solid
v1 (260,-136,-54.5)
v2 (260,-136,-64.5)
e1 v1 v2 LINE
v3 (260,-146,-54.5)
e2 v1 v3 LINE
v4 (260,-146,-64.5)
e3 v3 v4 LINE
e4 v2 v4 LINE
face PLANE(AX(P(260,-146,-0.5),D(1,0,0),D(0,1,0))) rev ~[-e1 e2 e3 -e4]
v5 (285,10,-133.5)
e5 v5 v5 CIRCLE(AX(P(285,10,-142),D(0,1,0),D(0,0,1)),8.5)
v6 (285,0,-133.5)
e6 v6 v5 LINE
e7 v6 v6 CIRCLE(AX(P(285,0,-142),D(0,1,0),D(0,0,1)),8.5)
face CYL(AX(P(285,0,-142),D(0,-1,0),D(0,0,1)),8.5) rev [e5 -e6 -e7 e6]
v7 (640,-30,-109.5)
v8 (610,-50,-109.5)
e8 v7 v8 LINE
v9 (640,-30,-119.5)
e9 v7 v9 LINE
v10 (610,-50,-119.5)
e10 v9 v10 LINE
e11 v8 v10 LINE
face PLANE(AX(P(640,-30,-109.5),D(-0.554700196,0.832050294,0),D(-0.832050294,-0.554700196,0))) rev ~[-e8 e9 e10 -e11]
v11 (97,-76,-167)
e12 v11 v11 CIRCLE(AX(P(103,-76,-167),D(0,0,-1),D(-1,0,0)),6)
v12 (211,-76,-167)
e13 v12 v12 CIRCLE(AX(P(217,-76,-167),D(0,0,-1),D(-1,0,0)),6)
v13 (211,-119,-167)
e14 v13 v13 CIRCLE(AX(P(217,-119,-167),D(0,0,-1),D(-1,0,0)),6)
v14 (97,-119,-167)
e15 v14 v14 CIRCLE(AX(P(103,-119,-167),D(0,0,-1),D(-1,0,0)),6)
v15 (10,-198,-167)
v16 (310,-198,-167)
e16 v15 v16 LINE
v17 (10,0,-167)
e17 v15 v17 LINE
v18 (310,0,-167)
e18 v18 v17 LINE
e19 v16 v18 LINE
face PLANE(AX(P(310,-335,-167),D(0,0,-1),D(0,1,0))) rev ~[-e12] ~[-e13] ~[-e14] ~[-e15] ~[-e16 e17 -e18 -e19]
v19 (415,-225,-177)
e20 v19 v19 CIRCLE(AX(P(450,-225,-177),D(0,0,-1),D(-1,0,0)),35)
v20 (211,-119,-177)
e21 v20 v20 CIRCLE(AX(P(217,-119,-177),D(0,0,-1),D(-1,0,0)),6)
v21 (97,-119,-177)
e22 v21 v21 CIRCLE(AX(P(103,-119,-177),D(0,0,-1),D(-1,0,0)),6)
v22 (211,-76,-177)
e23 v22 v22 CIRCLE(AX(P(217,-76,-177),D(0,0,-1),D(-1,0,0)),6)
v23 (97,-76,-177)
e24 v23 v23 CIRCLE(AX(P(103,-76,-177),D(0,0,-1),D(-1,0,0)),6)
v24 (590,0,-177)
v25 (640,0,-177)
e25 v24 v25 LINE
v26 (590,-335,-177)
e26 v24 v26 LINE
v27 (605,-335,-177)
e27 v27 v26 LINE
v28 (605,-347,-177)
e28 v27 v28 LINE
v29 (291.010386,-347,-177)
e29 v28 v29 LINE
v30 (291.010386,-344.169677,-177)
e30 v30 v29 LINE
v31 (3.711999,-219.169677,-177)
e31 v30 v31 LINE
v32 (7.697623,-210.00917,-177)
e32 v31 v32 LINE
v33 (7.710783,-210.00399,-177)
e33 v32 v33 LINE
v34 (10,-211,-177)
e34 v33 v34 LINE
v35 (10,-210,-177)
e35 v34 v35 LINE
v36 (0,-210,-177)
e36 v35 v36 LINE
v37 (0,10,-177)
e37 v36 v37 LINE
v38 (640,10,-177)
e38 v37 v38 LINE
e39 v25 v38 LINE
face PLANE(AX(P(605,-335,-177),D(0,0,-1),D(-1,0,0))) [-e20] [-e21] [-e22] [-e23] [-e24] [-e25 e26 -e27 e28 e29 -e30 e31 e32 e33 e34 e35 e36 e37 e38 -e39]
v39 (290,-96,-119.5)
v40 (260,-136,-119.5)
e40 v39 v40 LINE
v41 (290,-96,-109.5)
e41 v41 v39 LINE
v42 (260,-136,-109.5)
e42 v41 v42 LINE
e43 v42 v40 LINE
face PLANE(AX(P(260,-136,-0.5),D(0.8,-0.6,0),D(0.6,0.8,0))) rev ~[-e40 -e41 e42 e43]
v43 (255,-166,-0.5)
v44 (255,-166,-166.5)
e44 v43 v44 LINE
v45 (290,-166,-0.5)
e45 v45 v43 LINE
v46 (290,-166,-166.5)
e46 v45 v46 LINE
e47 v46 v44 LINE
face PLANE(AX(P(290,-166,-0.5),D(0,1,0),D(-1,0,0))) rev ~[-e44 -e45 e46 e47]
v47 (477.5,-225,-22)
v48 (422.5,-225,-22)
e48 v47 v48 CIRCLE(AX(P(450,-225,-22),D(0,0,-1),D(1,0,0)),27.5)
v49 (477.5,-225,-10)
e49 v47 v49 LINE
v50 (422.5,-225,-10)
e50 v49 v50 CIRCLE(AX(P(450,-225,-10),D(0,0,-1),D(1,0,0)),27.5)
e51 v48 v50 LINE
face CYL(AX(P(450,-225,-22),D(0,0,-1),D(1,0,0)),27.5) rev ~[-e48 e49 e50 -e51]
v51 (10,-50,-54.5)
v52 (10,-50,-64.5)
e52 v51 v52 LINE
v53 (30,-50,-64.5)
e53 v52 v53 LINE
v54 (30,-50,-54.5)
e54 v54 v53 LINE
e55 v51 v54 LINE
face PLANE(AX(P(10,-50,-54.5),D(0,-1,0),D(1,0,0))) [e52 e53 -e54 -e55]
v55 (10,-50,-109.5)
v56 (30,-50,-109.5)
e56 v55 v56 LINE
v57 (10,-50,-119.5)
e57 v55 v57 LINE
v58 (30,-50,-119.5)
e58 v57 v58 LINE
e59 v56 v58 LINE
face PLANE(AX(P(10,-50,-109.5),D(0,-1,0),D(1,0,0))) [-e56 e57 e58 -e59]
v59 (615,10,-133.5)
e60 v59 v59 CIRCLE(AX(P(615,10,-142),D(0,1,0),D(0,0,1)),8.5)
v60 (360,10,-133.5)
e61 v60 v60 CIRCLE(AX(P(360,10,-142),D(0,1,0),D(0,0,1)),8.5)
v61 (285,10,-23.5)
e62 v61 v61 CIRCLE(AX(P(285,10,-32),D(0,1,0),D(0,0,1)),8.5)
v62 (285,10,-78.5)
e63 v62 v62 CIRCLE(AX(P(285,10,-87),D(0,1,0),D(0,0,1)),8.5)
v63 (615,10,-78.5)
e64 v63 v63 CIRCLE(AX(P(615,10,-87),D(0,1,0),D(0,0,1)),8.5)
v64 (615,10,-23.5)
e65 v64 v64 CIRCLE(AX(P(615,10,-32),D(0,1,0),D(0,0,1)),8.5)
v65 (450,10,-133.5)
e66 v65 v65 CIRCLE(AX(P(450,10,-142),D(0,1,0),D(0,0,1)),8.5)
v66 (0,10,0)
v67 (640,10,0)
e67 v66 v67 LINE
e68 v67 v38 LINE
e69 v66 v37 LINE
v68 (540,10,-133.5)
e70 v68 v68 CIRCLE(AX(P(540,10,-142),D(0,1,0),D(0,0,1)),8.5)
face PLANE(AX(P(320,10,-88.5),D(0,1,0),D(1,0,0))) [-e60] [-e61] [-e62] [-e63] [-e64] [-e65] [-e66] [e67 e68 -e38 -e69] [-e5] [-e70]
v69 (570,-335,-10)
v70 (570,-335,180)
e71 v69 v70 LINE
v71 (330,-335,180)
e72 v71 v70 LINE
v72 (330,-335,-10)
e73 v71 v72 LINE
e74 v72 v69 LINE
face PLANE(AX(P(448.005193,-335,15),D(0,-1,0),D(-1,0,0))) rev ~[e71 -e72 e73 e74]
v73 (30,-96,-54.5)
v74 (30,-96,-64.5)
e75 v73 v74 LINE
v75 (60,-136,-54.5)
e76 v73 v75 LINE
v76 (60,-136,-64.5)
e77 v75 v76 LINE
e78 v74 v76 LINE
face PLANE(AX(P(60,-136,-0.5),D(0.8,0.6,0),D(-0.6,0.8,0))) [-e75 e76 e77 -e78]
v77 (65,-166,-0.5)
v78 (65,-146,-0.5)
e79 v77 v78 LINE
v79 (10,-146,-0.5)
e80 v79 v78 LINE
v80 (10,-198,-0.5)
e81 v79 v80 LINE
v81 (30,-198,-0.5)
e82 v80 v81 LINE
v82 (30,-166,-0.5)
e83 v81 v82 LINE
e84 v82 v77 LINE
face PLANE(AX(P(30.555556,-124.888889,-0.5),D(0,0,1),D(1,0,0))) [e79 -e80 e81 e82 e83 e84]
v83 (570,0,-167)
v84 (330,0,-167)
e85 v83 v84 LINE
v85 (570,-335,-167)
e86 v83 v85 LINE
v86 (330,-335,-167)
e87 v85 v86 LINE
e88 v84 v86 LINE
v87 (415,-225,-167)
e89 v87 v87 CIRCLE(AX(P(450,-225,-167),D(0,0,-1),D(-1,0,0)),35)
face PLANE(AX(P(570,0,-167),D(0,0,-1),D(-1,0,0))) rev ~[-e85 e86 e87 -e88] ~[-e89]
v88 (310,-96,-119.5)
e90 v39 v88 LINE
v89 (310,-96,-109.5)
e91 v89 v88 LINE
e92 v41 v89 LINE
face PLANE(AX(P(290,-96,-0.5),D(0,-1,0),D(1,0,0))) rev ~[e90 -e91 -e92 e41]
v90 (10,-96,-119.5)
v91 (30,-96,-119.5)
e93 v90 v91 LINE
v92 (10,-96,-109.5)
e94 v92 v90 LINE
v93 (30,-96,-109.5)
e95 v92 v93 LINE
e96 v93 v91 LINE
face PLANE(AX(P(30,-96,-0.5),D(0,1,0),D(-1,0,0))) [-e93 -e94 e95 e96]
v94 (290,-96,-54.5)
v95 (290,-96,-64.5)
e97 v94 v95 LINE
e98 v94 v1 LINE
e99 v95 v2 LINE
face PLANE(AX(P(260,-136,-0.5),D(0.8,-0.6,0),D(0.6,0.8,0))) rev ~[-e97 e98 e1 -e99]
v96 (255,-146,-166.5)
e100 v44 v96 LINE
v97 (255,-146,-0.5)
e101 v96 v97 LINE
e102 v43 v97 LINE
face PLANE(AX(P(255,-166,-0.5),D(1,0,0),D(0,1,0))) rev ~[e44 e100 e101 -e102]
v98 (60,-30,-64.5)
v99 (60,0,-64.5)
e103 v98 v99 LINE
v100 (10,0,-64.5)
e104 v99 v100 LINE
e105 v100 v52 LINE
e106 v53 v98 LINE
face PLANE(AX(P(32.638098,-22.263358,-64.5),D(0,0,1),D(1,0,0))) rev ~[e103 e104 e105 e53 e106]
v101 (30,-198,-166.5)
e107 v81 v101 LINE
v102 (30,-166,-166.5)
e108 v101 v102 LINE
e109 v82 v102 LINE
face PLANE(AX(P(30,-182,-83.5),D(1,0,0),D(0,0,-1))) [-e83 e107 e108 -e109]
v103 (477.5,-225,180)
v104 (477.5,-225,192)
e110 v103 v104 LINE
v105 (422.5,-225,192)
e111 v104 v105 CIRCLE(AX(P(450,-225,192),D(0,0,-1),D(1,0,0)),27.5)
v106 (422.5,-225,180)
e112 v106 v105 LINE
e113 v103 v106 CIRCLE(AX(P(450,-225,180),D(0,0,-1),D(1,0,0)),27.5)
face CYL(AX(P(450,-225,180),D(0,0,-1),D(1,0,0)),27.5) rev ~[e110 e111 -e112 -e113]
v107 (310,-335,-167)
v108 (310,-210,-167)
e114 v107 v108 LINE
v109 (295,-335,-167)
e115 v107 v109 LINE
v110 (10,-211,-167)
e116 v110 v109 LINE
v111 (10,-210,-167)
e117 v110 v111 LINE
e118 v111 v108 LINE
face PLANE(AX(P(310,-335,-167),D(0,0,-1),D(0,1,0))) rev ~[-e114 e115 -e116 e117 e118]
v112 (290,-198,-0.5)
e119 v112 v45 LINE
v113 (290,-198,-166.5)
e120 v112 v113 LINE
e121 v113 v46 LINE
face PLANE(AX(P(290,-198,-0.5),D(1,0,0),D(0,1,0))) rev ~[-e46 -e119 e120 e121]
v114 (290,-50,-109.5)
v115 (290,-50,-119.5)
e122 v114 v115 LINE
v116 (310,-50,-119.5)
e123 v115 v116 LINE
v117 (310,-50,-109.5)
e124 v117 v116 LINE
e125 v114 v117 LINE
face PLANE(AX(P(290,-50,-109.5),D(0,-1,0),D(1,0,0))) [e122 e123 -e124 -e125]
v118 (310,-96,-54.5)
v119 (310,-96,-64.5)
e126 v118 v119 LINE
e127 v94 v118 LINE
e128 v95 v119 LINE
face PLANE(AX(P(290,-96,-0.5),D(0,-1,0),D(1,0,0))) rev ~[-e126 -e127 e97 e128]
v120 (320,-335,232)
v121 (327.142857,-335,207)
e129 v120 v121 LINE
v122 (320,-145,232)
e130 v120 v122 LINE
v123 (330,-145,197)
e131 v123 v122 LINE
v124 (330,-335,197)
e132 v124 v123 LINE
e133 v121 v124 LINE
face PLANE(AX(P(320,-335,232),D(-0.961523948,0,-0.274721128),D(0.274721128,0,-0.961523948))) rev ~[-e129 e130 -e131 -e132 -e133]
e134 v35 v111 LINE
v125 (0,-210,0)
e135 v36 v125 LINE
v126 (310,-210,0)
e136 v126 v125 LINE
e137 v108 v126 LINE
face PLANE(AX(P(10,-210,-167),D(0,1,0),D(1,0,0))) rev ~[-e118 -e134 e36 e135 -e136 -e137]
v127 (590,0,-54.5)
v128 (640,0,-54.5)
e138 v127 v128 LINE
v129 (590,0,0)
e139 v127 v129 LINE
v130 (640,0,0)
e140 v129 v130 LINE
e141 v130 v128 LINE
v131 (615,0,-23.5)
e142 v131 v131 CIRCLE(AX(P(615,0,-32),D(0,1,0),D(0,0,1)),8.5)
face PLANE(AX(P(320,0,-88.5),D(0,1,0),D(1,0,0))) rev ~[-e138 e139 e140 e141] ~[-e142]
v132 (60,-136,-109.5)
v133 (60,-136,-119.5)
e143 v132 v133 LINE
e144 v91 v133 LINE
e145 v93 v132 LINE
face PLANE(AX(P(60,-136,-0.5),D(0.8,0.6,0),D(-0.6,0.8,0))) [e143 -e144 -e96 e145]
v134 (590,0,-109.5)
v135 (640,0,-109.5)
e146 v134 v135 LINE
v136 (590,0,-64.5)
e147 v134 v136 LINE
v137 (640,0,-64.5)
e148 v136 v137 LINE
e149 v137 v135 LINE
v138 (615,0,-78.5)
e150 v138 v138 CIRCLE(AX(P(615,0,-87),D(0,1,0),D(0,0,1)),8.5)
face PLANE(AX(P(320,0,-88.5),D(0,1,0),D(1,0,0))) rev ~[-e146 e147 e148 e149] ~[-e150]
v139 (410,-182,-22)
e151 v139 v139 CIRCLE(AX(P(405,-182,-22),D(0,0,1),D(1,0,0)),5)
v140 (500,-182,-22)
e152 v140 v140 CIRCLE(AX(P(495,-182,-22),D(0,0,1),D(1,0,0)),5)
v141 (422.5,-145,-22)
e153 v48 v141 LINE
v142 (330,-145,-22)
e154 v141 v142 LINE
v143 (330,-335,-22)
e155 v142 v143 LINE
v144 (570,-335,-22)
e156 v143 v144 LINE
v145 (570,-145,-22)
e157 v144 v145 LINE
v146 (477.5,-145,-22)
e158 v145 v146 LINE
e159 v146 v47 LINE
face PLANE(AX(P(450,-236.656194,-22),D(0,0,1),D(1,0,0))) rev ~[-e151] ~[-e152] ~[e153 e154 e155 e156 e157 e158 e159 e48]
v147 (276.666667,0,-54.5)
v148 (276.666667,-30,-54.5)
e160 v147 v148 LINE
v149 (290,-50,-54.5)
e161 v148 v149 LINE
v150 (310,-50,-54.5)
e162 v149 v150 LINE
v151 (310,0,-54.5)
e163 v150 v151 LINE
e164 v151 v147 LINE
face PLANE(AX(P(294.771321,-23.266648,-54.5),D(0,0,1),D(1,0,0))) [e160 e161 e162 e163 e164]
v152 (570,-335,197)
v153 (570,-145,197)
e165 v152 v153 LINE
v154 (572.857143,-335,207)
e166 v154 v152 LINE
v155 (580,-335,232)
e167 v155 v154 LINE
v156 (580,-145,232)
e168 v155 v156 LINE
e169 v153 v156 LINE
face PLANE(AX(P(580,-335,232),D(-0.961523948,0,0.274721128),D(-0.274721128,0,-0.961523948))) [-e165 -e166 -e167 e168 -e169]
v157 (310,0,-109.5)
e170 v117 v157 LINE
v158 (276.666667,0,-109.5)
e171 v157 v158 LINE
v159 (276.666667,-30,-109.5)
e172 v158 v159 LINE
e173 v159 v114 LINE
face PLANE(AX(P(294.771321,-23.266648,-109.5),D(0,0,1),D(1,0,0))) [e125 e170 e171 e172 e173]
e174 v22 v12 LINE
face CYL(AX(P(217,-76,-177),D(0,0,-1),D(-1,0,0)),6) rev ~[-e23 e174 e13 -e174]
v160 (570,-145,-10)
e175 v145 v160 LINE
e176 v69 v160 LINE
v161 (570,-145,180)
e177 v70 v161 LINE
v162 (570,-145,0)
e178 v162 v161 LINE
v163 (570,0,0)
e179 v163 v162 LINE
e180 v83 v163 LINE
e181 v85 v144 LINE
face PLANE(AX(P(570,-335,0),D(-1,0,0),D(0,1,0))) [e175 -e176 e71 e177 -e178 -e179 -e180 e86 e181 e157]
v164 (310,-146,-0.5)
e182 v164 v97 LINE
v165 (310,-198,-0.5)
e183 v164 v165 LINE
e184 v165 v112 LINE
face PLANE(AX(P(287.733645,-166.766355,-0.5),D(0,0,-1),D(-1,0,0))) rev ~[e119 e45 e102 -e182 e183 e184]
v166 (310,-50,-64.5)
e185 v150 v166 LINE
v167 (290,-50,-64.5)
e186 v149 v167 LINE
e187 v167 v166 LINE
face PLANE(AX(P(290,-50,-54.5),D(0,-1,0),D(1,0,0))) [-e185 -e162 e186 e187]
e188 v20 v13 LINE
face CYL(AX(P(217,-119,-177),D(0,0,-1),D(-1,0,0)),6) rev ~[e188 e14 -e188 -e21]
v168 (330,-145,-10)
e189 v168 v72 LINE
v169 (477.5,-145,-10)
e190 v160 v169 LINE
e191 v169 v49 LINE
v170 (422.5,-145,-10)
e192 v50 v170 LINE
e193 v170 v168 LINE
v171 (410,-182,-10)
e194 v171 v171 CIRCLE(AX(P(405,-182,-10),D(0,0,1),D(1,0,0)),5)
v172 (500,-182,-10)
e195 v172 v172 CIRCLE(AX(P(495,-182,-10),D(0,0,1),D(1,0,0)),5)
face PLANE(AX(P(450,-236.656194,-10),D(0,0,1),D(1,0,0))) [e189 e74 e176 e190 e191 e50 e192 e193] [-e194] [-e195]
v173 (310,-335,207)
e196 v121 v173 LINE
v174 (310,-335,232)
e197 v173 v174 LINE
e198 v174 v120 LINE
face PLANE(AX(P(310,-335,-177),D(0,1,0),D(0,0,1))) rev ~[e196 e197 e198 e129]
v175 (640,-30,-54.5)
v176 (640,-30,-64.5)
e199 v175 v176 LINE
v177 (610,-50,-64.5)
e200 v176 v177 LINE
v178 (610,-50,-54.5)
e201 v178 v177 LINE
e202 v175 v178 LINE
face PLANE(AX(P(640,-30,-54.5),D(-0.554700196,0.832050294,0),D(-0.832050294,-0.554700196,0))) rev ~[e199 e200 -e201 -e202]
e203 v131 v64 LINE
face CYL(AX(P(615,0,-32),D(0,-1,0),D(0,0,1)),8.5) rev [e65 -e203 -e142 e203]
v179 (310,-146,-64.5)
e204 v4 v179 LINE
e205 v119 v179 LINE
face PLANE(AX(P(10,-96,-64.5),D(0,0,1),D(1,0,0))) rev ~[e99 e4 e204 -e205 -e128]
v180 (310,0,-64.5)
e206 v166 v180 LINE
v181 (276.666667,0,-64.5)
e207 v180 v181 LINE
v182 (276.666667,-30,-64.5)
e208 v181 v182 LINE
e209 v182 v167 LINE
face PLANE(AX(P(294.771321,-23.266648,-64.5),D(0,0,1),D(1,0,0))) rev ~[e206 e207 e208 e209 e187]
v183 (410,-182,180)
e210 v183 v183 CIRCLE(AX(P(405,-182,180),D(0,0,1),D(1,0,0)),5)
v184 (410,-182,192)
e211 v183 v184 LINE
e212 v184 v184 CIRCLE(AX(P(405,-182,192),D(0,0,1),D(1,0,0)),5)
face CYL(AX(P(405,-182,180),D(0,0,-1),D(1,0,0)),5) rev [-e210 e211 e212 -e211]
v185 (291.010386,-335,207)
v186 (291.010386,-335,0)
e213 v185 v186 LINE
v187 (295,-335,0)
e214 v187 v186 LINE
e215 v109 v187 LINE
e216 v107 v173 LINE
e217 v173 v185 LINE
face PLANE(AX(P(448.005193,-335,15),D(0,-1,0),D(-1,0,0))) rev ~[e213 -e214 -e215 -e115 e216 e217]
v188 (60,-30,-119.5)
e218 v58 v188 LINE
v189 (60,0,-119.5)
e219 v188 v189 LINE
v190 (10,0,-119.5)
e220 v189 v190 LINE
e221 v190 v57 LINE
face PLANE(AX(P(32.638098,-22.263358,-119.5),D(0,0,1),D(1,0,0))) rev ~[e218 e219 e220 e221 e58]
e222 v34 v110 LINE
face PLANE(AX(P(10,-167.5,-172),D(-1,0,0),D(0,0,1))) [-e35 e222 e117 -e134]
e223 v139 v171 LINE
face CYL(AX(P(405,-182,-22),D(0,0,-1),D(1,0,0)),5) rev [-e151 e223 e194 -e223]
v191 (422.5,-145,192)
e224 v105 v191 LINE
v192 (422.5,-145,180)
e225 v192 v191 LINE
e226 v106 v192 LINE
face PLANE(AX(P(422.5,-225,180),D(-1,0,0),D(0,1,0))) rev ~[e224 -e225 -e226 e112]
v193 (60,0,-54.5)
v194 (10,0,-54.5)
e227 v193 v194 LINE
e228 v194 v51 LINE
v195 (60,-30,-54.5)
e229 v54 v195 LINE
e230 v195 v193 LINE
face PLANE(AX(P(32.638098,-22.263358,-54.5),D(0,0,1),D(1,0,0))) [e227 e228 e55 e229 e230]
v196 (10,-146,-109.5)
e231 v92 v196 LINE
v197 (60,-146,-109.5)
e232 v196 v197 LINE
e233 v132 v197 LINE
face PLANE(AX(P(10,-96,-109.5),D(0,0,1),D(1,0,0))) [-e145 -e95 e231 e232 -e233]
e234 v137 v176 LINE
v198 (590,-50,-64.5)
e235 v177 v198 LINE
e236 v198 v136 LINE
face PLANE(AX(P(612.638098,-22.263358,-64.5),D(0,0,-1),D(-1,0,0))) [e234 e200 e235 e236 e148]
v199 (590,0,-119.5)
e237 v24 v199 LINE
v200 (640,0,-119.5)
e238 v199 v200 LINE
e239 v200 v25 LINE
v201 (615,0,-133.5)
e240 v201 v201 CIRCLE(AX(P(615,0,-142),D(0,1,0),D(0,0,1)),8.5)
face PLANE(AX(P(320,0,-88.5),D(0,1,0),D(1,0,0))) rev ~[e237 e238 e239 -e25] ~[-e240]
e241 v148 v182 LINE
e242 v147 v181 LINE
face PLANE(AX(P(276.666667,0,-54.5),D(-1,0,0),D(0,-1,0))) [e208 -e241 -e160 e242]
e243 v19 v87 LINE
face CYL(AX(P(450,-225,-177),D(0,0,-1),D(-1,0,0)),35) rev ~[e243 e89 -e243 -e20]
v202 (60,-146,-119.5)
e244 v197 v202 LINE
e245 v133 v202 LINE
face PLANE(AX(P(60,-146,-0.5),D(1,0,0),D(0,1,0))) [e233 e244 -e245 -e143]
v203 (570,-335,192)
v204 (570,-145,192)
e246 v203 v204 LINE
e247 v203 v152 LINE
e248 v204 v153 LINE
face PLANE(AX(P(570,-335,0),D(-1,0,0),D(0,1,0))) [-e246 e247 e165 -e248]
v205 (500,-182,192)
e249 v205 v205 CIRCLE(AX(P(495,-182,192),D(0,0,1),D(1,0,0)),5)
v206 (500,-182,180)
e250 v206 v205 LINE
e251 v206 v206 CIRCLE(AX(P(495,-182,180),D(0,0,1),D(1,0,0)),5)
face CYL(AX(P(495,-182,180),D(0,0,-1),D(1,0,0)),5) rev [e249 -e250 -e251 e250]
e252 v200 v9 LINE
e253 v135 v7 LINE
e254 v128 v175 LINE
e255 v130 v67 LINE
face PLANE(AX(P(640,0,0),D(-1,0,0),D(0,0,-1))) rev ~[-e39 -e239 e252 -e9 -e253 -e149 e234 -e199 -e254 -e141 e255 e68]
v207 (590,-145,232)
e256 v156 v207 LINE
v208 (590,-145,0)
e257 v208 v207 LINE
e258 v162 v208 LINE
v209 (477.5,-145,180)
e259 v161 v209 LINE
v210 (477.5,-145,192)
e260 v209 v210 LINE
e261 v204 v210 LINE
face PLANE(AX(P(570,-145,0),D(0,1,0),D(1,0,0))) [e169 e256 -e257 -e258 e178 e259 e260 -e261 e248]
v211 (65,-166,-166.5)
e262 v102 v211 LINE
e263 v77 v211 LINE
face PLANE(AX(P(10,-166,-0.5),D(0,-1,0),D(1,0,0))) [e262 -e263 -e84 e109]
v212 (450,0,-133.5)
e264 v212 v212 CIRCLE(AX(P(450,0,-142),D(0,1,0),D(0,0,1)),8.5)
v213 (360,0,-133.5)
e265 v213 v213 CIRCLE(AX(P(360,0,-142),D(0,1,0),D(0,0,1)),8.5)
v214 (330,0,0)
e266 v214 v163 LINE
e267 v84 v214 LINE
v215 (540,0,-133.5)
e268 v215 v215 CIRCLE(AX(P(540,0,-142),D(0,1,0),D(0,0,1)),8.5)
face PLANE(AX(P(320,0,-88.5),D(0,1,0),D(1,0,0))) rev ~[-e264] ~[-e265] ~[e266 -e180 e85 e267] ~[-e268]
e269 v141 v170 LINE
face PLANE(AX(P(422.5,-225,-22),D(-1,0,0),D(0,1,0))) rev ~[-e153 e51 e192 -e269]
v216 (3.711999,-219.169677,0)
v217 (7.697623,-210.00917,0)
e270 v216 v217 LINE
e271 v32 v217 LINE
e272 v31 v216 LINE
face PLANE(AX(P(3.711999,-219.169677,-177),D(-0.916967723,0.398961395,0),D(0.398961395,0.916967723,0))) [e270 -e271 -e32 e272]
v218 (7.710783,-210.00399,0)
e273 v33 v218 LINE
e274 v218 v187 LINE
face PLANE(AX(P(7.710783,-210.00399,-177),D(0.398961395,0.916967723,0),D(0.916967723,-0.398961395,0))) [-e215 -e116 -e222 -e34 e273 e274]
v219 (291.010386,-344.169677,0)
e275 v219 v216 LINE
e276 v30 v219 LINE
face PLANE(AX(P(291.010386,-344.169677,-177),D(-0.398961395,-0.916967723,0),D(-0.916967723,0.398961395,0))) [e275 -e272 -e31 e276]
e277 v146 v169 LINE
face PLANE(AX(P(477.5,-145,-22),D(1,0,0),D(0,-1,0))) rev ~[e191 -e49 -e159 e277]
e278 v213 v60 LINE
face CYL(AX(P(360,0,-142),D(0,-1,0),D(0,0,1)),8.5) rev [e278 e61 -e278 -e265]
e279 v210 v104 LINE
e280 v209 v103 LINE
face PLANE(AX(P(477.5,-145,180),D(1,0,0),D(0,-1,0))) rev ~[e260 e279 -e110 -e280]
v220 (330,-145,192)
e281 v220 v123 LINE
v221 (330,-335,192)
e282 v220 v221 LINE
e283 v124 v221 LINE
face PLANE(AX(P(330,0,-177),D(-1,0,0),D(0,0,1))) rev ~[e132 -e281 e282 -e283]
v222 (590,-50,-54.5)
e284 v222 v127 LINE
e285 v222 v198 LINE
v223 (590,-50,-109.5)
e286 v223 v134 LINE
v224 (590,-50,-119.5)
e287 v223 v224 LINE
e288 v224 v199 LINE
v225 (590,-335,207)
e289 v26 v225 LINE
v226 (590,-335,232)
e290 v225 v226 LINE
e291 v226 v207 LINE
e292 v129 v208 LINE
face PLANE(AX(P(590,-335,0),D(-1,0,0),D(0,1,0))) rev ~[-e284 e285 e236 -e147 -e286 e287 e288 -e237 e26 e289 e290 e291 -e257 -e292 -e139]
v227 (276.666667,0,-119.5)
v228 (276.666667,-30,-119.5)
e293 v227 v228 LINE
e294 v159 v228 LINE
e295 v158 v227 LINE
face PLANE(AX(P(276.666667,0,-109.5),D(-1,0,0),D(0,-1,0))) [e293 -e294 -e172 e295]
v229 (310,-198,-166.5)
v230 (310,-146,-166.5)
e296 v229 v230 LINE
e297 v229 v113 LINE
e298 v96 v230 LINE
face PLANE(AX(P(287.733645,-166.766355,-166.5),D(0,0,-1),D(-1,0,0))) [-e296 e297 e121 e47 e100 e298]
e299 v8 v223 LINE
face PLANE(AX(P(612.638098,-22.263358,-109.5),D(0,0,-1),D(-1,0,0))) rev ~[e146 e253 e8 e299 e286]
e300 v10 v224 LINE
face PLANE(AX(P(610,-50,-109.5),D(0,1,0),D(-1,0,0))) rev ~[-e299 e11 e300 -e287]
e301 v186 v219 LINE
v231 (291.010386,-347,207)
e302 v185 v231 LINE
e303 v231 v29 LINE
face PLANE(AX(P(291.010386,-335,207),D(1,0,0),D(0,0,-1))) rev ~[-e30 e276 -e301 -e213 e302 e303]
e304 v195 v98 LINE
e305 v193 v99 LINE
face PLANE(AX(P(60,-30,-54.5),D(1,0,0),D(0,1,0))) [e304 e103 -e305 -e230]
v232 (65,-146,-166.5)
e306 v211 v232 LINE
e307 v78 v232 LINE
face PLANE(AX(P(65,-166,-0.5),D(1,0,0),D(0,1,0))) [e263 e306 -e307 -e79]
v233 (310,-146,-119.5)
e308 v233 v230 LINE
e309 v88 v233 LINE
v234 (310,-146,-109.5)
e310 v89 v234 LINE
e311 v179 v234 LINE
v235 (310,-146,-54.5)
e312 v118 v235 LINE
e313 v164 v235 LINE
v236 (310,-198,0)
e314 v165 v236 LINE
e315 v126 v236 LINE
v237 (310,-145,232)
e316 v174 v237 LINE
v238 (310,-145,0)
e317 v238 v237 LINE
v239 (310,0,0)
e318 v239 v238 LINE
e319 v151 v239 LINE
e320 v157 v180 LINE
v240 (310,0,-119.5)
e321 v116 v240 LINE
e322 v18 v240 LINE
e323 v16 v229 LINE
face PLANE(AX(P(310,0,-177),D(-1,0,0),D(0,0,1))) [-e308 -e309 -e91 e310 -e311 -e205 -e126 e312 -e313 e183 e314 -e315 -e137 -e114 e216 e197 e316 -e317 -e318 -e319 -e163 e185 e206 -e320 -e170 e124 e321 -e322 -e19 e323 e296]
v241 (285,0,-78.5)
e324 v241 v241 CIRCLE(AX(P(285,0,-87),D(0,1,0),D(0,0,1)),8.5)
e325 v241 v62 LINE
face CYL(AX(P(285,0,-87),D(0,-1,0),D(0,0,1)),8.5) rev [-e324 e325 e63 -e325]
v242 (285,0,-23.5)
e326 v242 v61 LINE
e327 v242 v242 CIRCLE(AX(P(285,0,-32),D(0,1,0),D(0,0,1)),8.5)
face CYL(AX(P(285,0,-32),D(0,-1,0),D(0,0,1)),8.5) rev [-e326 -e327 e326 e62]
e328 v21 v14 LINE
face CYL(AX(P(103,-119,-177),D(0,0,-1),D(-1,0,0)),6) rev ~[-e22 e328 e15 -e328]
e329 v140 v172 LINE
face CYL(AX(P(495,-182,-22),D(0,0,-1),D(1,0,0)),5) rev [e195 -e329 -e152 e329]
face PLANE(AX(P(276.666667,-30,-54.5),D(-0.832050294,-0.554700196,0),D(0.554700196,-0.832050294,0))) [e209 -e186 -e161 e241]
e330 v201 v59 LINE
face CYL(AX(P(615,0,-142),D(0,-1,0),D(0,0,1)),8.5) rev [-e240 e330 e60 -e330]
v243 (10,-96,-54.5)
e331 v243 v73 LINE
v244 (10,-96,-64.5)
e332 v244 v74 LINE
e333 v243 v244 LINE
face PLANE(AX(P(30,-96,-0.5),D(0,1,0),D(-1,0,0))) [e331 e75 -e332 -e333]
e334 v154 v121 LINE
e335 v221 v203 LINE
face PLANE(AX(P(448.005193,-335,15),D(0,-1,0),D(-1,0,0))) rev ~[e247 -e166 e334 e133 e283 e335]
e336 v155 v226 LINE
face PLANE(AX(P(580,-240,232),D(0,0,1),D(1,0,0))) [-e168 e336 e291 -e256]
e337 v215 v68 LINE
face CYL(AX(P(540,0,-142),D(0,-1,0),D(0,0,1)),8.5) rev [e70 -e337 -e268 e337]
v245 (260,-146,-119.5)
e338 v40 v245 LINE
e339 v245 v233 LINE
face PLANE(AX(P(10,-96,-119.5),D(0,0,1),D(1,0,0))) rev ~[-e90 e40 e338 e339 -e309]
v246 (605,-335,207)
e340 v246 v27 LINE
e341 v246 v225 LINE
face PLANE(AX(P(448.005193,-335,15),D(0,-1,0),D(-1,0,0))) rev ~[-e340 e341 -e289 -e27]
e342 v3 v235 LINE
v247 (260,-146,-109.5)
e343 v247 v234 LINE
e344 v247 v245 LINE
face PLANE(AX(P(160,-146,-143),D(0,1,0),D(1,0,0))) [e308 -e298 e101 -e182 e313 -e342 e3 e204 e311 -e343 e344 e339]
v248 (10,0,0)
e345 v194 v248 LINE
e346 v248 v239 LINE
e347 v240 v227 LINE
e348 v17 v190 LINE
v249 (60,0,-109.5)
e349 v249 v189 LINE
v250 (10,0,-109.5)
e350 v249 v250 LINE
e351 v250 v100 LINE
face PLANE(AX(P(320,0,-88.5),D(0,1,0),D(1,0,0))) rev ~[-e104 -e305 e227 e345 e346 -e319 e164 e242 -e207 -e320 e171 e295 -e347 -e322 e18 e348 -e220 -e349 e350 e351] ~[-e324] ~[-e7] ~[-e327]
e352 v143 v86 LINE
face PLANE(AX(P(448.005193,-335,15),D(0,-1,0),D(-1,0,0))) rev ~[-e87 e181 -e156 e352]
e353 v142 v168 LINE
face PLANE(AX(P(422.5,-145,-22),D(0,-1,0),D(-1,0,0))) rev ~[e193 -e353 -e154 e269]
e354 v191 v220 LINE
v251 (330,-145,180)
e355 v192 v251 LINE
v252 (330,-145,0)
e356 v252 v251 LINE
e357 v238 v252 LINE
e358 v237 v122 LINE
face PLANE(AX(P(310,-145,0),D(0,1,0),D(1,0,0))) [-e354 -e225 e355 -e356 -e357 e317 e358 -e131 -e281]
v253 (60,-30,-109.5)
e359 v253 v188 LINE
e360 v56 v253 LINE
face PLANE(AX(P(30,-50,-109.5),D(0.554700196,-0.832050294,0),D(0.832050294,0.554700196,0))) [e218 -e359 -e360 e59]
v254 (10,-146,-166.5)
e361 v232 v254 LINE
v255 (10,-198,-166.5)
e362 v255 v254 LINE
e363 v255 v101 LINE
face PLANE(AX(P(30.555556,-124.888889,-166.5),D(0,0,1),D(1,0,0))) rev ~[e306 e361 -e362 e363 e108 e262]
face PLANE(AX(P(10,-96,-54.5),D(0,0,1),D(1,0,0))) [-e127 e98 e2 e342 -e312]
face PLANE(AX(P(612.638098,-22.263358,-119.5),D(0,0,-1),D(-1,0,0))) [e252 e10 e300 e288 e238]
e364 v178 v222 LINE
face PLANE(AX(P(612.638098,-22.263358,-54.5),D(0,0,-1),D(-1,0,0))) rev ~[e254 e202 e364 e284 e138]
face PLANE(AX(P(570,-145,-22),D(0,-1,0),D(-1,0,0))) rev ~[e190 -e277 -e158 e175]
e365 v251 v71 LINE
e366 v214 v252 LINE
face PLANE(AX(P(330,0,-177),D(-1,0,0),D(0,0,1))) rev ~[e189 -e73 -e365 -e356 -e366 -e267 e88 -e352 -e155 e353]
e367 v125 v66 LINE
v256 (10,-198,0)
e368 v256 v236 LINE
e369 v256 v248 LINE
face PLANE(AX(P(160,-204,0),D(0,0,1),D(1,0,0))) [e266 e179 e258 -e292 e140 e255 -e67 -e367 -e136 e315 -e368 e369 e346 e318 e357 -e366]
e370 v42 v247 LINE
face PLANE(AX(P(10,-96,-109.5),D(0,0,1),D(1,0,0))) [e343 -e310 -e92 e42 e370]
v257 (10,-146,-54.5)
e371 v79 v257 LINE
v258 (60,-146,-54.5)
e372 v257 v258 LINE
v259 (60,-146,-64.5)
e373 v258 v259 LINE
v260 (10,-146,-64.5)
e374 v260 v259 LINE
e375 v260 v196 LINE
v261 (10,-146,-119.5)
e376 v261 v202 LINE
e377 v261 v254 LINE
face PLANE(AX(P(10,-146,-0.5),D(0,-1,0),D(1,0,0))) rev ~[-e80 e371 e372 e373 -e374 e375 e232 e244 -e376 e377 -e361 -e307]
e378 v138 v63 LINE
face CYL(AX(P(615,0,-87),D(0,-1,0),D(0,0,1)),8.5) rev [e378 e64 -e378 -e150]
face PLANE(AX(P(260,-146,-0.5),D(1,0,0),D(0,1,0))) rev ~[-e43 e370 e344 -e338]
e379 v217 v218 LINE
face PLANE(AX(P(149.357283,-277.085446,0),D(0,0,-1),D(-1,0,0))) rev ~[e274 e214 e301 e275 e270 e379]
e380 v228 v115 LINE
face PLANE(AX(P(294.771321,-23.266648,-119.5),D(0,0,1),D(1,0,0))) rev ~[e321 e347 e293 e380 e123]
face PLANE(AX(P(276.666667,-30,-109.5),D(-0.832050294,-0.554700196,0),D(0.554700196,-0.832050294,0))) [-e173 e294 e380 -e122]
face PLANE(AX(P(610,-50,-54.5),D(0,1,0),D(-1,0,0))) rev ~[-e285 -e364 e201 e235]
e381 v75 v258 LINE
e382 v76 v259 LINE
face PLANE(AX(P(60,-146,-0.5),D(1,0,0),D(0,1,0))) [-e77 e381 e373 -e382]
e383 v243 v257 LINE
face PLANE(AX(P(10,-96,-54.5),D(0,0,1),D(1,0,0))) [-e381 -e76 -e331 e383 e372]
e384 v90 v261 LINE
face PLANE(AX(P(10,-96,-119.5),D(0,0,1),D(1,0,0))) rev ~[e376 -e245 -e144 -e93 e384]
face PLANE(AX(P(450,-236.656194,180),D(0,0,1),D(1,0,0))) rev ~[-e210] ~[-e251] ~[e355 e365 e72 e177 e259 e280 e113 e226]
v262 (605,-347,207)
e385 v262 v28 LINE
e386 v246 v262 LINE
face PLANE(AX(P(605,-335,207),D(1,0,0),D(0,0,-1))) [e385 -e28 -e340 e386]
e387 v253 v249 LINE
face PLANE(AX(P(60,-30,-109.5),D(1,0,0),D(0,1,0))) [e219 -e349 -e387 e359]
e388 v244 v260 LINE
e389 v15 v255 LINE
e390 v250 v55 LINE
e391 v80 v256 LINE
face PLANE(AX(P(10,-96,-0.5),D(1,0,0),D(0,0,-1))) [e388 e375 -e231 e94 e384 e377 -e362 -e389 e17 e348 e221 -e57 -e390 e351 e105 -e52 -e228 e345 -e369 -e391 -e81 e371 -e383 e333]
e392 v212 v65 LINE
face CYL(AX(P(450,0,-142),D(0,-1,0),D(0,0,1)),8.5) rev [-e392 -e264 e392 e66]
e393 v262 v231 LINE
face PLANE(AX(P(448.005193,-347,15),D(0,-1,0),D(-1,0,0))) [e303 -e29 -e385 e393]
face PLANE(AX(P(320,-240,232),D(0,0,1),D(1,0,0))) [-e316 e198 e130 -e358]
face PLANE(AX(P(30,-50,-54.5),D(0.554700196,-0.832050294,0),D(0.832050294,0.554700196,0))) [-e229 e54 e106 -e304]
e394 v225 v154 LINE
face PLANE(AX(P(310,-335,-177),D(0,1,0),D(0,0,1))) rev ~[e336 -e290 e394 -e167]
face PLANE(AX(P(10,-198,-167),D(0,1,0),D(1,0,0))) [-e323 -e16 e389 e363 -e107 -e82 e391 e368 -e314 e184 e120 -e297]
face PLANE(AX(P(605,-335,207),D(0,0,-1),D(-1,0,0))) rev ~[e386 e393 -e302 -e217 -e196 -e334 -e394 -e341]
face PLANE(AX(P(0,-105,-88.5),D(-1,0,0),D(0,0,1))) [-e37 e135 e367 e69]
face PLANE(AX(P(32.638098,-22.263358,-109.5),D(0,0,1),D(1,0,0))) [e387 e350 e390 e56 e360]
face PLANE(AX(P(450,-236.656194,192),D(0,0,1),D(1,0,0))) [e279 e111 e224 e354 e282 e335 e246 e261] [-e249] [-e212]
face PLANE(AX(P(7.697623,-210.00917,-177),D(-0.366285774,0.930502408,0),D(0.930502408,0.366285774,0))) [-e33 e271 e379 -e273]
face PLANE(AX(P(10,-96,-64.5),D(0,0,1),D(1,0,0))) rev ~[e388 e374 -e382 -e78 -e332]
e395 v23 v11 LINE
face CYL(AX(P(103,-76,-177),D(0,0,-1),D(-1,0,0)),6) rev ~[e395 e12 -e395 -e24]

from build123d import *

# Parameters (mm, degrees)
SKETCH_1_W             = 640
SKETCH_1_H             = 177
SKETCH_1_R             = 8.5
EXTRUDE_1_DEPTH        = 10
SKETCH_2_W             = 20
SKETCH_2_H             = 177
EXTRUDE_2_DEPTH        = 335
SKETCH_3_W             = 20
SKETCH_3_H             = 190
EXTRUDE_3_DEPTH        = 232
CUT_EXTRUDE_1_DEPTH    = 764.183464181
SKETCH_5_W             = 240
SKETCH_5_H             = 10
EXTRUDE_4_DEPTH        = 335
SKETCH_6_R             = 35
CUT_EXTRUDE_2_DEPTH    = 10
SKETCH_7_W             = 10
SKETCH_7_H             = 335
EXTRUDE_5_DEPTH        = 300
SKETCH_8_R             = 6
CUT_EXTRUDE_3_DEPTH    = 10
SKETCH_9_W             = 177
SKETCH_9_H             = 210
EXTRUDE_6_DEPTH        = 10
EXTRUDE_7_DEPTH        = 177
SKETCH_12_R            = 5
EXTRUDE_8_DEPTH        = 12
PATTERN_LINEAR_2_COUNT = 2
PATTERN_LINEAR_2_PITCH = 202
SKETCH_14_W            = 300
SKETCH_14_H            = 12
EXTRUDE_9_DEPTH        = 167
SKETCH_15_W            = 166
SKETCH_15_H            = 32
EXTRUDE_10_DEPTH       = 20
SKETCH_16_W            = 55
SKETCH_16_H            = 20
EXTRUDE_11_DEPTH       = 166
EXTRUDE_12_DEPTH       = 166
SKETCH_18_W            = 300
SKETCH_18_H            = 47
SKETCH_18_H_2          = 45
SKETCH_18_H_3          = 54
CUT_EXTRUDE_4_DEPTH    = 50
EXTRUDE_13_DEPTH       = 10
PATTERN_LINEAR_1_COUNT = 2
PATTERN_LINEAR_1_PITCH = 55
SKETCH_21_W            = 313.989613953
SKETCH_21_H            = 384
EXTRUDE_18_DEPTH       = 12


with BuildPart() as part:
    # 草图1 → 凸台-拉伸1 (new body)
    with BuildSketch(Plane(origin=(0, 0, 0), x_dir=(1, 0, 0), z_dir=(0, 1, 0))):
        with Locations((320, 88.5)):
            Rectangle(SKETCH_1_W, SKETCH_1_H)
        with Locations(Location((615, 142, 0), (0, 0, 270))):
            Circle(SKETCH_1_R, mode=Mode.SUBTRACT)
        with Locations(Location((615, 87, 0), (0, 0, 270))):
            Circle(SKETCH_1_R, mode=Mode.SUBTRACT)
        with Locations(Location((615, 32, 0), (0, 0, 270))):
            Circle(SKETCH_1_R, mode=Mode.SUBTRACT)
        with Locations(Location((540, 142, 0), (0, 0, 270))):
            Circle(SKETCH_1_R, mode=Mode.SUBTRACT)
        with Locations(Location((450, 142, 0), (0, 0, 270))):
            Circle(SKETCH_1_R, mode=Mode.SUBTRACT)
        with Locations(Location((360, 142, 0), (0, 0, 270))):
            Circle(SKETCH_1_R, mode=Mode.SUBTRACT)
        with Locations(Location((285, 142, 0), (0, 0, 270))):
            Circle(SKETCH_1_R, mode=Mode.SUBTRACT)
        with Locations(Location((285, 32, 0), (0, 0, 270))):
            Circle(SKETCH_1_R, mode=Mode.SUBTRACT)
        with Locations(Location((285, 87, 0), (0, 0, 270))):
            Circle(SKETCH_1_R, mode=Mode.SUBTRACT)
    extrude(amount=EXTRUDE_1_DEPTH)

    # 草图2 → 凸台-拉伸2 (add)
    with BuildSketch(Plane.XZ):
        with Locations((580, -88.5)):
            Rectangle(SKETCH_2_W, SKETCH_2_H)
        with Locations((320, -88.5)):
            Rectangle(SKETCH_2_W, SKETCH_2_H)
    extrude(amount=EXTRUDE_2_DEPTH)

    # 草图3 → 凸台-拉伸3 (add)
    with BuildSketch(Plane.XY):
        with Locations((580, -240)):
            Rectangle(SKETCH_3_W, SKETCH_3_H)
        with Locations((320, -240)):
            Rectangle(SKETCH_3_W, SKETCH_3_H)
    extrude(amount=EXTRUDE_3_DEPTH)

    # 草图4 → 切除-拉伸1 (cut, through all)
    with BuildSketch(Plane.XZ.offset(335)):
        Polygon((330, 232), (320, 232), (330, 197), align=None)
        Polygon((570, 232), (580, 232), (570, 197), align=None)
    extrude(amount=-CUT_EXTRUDE_1_DEPTH, mode=Mode.SUBTRACT)

    # 草图5 → 凸台-拉伸4 (add)
    with BuildSketch(Plane(origin=(0, 0, 0), x_dir=(-1, 0, 0), z_dir=(0, -1, 0))):
        with Locations((-450, 172)):
            Rectangle(SKETCH_5_W, SKETCH_5_H)
    extrude(amount=EXTRUDE_4_DEPTH)

    # 草图6 → 切除-拉伸2 (cut)
    with BuildSketch(Plane(origin=(0, 0, -177), x_dir=(-1, 0, 0), z_dir=(0, 0, -1))):
        with Locations((-450, -225)):
            Circle(SKETCH_6_R)
    extrude(amount=-CUT_EXTRUDE_2_DEPTH, mode=Mode.SUBTRACT)

    # 草图7 → 凸台-拉伸5 (add)
    with BuildSketch(Plane.ZY.offset(-310)):
        with Locations((-172, -167.5)):
            Rectangle(SKETCH_7_W, SKETCH_7_H)
    extrude(amount=EXTRUDE_5_DEPTH)

    # 草图8 → 切除-拉伸3 (cut)
    with BuildSketch(Plane(origin=(0, 0, -177), x_dir=(-1, 0, 0), z_dir=(0, 0, -1))):
        with Locations((-217, -76)):
            Circle(SKETCH_8_R)
        with Locations((-103, -76)):
            Circle(SKETCH_8_R)
        with Locations((-217, -119)):
            Circle(SKETCH_8_R)
        with Locations((-103, -119)):
            Circle(SKETCH_8_R)
        Polygon((-10, -211), (-295, -335), (-10, -335), align=None)
    extrude(amount=-CUT_EXTRUDE_3_DEPTH, mode=Mode.SUBTRACT)

    # 草图9 → 凸台-拉伸6 (add)
    with BuildSketch(Plane.ZY.offset(-10)):
        with Locations((-88.5, -105)):
            Rectangle(SKETCH_9_W, SKETCH_9_H)
    extrude(amount=EXTRUDE_6_DEPTH)

    # 草图12 → 凸台-拉伸8 (add)
    with BuildSketch(Plane.XY.offset(180)):
        with BuildLine():
            Line((330, -335), (570, -335))
            Line((570, -335), (570, -145))
            Line((570, -145), (477.5, -145))
            Line((477.5, -145), (477.5, -225))
            ThreePointArc((477.5, -225), (450, -252.5), (422.5, -225))
            Line((422.5, -225), (422.5, -145))
            Line((422.5, -145), (330, -145))
            Line((330, -145), (330, -335))
        make_face()
        with Locations((405, -182)):
            Circle(SKETCH_12_R, mode=Mode.SUBTRACT)
        with Locations((495, -182)):
            Circle(SKETCH_12_R, mode=Mode.SUBTRACT)
    extrude_8 = extrude(amount=EXTRUDE_8_DEPTH)

    # 阵列(线性)2: 凸台-拉伸8 ×2
    with Locations(*[(0, 0, -i * PATTERN_LINEAR_2_PITCH) for i in range(1, PATTERN_LINEAR_2_COUNT)]):
        add(extrude_8)

    # 草图14 → 凸台-拉伸9 (add)
    with BuildSketch(Plane.XY.offset(-167)):
        with Locations((160, -204)):
            Rectangle(SKETCH_14_W, SKETCH_14_H)
    extrude(amount=EXTRUDE_9_DEPTH)

    # 草图15 → 凸台-拉伸10 (add)
    with BuildSketch(Plane(origin=(10, 0, 0), x_dir=(0, 0, -1), z_dir=(1, 0, 0))):
        with Locations((83.5, -182)):
            Rectangle(SKETCH_15_W, SKETCH_15_H)
    extrude(amount=EXTRUDE_10_DEPTH)

    # 草图16 → 凸台-拉伸11 (add)
    with BuildSketch(Plane.XY.offset(-0.5)):
        Polygon((310, -146), (310, -198), (290, -198), (290, -166), (255, -166), (255, -146), align=None)
        with Locations((37.5, -156)):
            Rectangle(SKETCH_16_W, SKETCH_16_H)
    extrude(amount=-EXTRUDE_11_DEPTH)

    # 草图17 → 凸台-拉伸12 (add)
    with BuildSketch(Plane.XY.offset(-0.5)):
        Polygon((10, -146), (60, -146), (60, -136), (30, -96), (10, -96), align=None)
        Polygon((310, -146), (260, -146), (260, -136), (290, -96), (310, -96), align=None)
    extrude(amount=-EXTRUDE_12_DEPTH)

    # 草图18 → 切除-拉伸4 (cut)
    with BuildSketch(Plane(origin=(0, -96, 0), x_dir=(1, 0, 0), z_dir=(0, 1, 0))):
        with Locations((160, 143)):
            Rectangle(SKETCH_18_W, SKETCH_18_H)
        with Locations((160, 87)):
            Rectangle(SKETCH_18_W, SKETCH_18_H_2)
        with Locations((160, 27.5)):
            Rectangle(SKETCH_18_W, SKETCH_18_H_3)
    extrude(amount=-CUT_EXTRUDE_4_DEPTH, mode=Mode.SUBTRACT)

    # 草图20 → 凸台-拉伸13 (add)
    with BuildSketch(Plane.XY.offset(-54.5)):
        Polygon((590, 0), (640, 0), (640, -30), (610, -50), (590, -50), align=None)
        Polygon((310, 0), (276.666666667, 0), (276.666666667, -30), (290, -50), (310, -50), align=None)
        Polygon((10, 0), (10, -50), (30, -50), (60, -30), (60, 0), align=None)
    extrude_13 = extrude(amount=-EXTRUDE_13_DEPTH)

    # 阵列(线性)1: 凸台-拉伸13 ×2
    with Locations(*[(0, 0, -i * PATTERN_LINEAR_1_PITCH) for i in range(1, PATTERN_LINEAR_1_COUNT)]):
        add(extrude_13)



with BuildPart() as body_2:
    # 草图11 → 凸台-拉伸7 (new body)
    with BuildSketch(Plane(origin=(0, 0, -177), x_dir=(-1, 0, 0), z_dir=(0, 0, -1))):
        Polygon((-7.71078258, -210.003989614), (-295, -335), (-291.010386047, -344.16967723), (-3.71199895, -219.16967723), (-7.697623289, -210.009169677), align=None)
    extrude(amount=-EXTRUDE_7_DEPTH)


with BuildPart() as part_1:
    add(part.part)

    add(body_2.part)  # 凸台-拉伸18 merges body 2
    # 草图21 → 凸台-拉伸18 (add)
    with BuildSketch(Plane(origin=(0, -335, 0), x_dir=(-1, 0, 0), z_dir=(0, -1, 0))):
        with Locations((-448.005193023, -15)):
            Rectangle(SKETCH_21_W, SKETCH_21_H)
    extrude(amount=EXTRUDE_18_DEPTH)


solid = part_1.part
